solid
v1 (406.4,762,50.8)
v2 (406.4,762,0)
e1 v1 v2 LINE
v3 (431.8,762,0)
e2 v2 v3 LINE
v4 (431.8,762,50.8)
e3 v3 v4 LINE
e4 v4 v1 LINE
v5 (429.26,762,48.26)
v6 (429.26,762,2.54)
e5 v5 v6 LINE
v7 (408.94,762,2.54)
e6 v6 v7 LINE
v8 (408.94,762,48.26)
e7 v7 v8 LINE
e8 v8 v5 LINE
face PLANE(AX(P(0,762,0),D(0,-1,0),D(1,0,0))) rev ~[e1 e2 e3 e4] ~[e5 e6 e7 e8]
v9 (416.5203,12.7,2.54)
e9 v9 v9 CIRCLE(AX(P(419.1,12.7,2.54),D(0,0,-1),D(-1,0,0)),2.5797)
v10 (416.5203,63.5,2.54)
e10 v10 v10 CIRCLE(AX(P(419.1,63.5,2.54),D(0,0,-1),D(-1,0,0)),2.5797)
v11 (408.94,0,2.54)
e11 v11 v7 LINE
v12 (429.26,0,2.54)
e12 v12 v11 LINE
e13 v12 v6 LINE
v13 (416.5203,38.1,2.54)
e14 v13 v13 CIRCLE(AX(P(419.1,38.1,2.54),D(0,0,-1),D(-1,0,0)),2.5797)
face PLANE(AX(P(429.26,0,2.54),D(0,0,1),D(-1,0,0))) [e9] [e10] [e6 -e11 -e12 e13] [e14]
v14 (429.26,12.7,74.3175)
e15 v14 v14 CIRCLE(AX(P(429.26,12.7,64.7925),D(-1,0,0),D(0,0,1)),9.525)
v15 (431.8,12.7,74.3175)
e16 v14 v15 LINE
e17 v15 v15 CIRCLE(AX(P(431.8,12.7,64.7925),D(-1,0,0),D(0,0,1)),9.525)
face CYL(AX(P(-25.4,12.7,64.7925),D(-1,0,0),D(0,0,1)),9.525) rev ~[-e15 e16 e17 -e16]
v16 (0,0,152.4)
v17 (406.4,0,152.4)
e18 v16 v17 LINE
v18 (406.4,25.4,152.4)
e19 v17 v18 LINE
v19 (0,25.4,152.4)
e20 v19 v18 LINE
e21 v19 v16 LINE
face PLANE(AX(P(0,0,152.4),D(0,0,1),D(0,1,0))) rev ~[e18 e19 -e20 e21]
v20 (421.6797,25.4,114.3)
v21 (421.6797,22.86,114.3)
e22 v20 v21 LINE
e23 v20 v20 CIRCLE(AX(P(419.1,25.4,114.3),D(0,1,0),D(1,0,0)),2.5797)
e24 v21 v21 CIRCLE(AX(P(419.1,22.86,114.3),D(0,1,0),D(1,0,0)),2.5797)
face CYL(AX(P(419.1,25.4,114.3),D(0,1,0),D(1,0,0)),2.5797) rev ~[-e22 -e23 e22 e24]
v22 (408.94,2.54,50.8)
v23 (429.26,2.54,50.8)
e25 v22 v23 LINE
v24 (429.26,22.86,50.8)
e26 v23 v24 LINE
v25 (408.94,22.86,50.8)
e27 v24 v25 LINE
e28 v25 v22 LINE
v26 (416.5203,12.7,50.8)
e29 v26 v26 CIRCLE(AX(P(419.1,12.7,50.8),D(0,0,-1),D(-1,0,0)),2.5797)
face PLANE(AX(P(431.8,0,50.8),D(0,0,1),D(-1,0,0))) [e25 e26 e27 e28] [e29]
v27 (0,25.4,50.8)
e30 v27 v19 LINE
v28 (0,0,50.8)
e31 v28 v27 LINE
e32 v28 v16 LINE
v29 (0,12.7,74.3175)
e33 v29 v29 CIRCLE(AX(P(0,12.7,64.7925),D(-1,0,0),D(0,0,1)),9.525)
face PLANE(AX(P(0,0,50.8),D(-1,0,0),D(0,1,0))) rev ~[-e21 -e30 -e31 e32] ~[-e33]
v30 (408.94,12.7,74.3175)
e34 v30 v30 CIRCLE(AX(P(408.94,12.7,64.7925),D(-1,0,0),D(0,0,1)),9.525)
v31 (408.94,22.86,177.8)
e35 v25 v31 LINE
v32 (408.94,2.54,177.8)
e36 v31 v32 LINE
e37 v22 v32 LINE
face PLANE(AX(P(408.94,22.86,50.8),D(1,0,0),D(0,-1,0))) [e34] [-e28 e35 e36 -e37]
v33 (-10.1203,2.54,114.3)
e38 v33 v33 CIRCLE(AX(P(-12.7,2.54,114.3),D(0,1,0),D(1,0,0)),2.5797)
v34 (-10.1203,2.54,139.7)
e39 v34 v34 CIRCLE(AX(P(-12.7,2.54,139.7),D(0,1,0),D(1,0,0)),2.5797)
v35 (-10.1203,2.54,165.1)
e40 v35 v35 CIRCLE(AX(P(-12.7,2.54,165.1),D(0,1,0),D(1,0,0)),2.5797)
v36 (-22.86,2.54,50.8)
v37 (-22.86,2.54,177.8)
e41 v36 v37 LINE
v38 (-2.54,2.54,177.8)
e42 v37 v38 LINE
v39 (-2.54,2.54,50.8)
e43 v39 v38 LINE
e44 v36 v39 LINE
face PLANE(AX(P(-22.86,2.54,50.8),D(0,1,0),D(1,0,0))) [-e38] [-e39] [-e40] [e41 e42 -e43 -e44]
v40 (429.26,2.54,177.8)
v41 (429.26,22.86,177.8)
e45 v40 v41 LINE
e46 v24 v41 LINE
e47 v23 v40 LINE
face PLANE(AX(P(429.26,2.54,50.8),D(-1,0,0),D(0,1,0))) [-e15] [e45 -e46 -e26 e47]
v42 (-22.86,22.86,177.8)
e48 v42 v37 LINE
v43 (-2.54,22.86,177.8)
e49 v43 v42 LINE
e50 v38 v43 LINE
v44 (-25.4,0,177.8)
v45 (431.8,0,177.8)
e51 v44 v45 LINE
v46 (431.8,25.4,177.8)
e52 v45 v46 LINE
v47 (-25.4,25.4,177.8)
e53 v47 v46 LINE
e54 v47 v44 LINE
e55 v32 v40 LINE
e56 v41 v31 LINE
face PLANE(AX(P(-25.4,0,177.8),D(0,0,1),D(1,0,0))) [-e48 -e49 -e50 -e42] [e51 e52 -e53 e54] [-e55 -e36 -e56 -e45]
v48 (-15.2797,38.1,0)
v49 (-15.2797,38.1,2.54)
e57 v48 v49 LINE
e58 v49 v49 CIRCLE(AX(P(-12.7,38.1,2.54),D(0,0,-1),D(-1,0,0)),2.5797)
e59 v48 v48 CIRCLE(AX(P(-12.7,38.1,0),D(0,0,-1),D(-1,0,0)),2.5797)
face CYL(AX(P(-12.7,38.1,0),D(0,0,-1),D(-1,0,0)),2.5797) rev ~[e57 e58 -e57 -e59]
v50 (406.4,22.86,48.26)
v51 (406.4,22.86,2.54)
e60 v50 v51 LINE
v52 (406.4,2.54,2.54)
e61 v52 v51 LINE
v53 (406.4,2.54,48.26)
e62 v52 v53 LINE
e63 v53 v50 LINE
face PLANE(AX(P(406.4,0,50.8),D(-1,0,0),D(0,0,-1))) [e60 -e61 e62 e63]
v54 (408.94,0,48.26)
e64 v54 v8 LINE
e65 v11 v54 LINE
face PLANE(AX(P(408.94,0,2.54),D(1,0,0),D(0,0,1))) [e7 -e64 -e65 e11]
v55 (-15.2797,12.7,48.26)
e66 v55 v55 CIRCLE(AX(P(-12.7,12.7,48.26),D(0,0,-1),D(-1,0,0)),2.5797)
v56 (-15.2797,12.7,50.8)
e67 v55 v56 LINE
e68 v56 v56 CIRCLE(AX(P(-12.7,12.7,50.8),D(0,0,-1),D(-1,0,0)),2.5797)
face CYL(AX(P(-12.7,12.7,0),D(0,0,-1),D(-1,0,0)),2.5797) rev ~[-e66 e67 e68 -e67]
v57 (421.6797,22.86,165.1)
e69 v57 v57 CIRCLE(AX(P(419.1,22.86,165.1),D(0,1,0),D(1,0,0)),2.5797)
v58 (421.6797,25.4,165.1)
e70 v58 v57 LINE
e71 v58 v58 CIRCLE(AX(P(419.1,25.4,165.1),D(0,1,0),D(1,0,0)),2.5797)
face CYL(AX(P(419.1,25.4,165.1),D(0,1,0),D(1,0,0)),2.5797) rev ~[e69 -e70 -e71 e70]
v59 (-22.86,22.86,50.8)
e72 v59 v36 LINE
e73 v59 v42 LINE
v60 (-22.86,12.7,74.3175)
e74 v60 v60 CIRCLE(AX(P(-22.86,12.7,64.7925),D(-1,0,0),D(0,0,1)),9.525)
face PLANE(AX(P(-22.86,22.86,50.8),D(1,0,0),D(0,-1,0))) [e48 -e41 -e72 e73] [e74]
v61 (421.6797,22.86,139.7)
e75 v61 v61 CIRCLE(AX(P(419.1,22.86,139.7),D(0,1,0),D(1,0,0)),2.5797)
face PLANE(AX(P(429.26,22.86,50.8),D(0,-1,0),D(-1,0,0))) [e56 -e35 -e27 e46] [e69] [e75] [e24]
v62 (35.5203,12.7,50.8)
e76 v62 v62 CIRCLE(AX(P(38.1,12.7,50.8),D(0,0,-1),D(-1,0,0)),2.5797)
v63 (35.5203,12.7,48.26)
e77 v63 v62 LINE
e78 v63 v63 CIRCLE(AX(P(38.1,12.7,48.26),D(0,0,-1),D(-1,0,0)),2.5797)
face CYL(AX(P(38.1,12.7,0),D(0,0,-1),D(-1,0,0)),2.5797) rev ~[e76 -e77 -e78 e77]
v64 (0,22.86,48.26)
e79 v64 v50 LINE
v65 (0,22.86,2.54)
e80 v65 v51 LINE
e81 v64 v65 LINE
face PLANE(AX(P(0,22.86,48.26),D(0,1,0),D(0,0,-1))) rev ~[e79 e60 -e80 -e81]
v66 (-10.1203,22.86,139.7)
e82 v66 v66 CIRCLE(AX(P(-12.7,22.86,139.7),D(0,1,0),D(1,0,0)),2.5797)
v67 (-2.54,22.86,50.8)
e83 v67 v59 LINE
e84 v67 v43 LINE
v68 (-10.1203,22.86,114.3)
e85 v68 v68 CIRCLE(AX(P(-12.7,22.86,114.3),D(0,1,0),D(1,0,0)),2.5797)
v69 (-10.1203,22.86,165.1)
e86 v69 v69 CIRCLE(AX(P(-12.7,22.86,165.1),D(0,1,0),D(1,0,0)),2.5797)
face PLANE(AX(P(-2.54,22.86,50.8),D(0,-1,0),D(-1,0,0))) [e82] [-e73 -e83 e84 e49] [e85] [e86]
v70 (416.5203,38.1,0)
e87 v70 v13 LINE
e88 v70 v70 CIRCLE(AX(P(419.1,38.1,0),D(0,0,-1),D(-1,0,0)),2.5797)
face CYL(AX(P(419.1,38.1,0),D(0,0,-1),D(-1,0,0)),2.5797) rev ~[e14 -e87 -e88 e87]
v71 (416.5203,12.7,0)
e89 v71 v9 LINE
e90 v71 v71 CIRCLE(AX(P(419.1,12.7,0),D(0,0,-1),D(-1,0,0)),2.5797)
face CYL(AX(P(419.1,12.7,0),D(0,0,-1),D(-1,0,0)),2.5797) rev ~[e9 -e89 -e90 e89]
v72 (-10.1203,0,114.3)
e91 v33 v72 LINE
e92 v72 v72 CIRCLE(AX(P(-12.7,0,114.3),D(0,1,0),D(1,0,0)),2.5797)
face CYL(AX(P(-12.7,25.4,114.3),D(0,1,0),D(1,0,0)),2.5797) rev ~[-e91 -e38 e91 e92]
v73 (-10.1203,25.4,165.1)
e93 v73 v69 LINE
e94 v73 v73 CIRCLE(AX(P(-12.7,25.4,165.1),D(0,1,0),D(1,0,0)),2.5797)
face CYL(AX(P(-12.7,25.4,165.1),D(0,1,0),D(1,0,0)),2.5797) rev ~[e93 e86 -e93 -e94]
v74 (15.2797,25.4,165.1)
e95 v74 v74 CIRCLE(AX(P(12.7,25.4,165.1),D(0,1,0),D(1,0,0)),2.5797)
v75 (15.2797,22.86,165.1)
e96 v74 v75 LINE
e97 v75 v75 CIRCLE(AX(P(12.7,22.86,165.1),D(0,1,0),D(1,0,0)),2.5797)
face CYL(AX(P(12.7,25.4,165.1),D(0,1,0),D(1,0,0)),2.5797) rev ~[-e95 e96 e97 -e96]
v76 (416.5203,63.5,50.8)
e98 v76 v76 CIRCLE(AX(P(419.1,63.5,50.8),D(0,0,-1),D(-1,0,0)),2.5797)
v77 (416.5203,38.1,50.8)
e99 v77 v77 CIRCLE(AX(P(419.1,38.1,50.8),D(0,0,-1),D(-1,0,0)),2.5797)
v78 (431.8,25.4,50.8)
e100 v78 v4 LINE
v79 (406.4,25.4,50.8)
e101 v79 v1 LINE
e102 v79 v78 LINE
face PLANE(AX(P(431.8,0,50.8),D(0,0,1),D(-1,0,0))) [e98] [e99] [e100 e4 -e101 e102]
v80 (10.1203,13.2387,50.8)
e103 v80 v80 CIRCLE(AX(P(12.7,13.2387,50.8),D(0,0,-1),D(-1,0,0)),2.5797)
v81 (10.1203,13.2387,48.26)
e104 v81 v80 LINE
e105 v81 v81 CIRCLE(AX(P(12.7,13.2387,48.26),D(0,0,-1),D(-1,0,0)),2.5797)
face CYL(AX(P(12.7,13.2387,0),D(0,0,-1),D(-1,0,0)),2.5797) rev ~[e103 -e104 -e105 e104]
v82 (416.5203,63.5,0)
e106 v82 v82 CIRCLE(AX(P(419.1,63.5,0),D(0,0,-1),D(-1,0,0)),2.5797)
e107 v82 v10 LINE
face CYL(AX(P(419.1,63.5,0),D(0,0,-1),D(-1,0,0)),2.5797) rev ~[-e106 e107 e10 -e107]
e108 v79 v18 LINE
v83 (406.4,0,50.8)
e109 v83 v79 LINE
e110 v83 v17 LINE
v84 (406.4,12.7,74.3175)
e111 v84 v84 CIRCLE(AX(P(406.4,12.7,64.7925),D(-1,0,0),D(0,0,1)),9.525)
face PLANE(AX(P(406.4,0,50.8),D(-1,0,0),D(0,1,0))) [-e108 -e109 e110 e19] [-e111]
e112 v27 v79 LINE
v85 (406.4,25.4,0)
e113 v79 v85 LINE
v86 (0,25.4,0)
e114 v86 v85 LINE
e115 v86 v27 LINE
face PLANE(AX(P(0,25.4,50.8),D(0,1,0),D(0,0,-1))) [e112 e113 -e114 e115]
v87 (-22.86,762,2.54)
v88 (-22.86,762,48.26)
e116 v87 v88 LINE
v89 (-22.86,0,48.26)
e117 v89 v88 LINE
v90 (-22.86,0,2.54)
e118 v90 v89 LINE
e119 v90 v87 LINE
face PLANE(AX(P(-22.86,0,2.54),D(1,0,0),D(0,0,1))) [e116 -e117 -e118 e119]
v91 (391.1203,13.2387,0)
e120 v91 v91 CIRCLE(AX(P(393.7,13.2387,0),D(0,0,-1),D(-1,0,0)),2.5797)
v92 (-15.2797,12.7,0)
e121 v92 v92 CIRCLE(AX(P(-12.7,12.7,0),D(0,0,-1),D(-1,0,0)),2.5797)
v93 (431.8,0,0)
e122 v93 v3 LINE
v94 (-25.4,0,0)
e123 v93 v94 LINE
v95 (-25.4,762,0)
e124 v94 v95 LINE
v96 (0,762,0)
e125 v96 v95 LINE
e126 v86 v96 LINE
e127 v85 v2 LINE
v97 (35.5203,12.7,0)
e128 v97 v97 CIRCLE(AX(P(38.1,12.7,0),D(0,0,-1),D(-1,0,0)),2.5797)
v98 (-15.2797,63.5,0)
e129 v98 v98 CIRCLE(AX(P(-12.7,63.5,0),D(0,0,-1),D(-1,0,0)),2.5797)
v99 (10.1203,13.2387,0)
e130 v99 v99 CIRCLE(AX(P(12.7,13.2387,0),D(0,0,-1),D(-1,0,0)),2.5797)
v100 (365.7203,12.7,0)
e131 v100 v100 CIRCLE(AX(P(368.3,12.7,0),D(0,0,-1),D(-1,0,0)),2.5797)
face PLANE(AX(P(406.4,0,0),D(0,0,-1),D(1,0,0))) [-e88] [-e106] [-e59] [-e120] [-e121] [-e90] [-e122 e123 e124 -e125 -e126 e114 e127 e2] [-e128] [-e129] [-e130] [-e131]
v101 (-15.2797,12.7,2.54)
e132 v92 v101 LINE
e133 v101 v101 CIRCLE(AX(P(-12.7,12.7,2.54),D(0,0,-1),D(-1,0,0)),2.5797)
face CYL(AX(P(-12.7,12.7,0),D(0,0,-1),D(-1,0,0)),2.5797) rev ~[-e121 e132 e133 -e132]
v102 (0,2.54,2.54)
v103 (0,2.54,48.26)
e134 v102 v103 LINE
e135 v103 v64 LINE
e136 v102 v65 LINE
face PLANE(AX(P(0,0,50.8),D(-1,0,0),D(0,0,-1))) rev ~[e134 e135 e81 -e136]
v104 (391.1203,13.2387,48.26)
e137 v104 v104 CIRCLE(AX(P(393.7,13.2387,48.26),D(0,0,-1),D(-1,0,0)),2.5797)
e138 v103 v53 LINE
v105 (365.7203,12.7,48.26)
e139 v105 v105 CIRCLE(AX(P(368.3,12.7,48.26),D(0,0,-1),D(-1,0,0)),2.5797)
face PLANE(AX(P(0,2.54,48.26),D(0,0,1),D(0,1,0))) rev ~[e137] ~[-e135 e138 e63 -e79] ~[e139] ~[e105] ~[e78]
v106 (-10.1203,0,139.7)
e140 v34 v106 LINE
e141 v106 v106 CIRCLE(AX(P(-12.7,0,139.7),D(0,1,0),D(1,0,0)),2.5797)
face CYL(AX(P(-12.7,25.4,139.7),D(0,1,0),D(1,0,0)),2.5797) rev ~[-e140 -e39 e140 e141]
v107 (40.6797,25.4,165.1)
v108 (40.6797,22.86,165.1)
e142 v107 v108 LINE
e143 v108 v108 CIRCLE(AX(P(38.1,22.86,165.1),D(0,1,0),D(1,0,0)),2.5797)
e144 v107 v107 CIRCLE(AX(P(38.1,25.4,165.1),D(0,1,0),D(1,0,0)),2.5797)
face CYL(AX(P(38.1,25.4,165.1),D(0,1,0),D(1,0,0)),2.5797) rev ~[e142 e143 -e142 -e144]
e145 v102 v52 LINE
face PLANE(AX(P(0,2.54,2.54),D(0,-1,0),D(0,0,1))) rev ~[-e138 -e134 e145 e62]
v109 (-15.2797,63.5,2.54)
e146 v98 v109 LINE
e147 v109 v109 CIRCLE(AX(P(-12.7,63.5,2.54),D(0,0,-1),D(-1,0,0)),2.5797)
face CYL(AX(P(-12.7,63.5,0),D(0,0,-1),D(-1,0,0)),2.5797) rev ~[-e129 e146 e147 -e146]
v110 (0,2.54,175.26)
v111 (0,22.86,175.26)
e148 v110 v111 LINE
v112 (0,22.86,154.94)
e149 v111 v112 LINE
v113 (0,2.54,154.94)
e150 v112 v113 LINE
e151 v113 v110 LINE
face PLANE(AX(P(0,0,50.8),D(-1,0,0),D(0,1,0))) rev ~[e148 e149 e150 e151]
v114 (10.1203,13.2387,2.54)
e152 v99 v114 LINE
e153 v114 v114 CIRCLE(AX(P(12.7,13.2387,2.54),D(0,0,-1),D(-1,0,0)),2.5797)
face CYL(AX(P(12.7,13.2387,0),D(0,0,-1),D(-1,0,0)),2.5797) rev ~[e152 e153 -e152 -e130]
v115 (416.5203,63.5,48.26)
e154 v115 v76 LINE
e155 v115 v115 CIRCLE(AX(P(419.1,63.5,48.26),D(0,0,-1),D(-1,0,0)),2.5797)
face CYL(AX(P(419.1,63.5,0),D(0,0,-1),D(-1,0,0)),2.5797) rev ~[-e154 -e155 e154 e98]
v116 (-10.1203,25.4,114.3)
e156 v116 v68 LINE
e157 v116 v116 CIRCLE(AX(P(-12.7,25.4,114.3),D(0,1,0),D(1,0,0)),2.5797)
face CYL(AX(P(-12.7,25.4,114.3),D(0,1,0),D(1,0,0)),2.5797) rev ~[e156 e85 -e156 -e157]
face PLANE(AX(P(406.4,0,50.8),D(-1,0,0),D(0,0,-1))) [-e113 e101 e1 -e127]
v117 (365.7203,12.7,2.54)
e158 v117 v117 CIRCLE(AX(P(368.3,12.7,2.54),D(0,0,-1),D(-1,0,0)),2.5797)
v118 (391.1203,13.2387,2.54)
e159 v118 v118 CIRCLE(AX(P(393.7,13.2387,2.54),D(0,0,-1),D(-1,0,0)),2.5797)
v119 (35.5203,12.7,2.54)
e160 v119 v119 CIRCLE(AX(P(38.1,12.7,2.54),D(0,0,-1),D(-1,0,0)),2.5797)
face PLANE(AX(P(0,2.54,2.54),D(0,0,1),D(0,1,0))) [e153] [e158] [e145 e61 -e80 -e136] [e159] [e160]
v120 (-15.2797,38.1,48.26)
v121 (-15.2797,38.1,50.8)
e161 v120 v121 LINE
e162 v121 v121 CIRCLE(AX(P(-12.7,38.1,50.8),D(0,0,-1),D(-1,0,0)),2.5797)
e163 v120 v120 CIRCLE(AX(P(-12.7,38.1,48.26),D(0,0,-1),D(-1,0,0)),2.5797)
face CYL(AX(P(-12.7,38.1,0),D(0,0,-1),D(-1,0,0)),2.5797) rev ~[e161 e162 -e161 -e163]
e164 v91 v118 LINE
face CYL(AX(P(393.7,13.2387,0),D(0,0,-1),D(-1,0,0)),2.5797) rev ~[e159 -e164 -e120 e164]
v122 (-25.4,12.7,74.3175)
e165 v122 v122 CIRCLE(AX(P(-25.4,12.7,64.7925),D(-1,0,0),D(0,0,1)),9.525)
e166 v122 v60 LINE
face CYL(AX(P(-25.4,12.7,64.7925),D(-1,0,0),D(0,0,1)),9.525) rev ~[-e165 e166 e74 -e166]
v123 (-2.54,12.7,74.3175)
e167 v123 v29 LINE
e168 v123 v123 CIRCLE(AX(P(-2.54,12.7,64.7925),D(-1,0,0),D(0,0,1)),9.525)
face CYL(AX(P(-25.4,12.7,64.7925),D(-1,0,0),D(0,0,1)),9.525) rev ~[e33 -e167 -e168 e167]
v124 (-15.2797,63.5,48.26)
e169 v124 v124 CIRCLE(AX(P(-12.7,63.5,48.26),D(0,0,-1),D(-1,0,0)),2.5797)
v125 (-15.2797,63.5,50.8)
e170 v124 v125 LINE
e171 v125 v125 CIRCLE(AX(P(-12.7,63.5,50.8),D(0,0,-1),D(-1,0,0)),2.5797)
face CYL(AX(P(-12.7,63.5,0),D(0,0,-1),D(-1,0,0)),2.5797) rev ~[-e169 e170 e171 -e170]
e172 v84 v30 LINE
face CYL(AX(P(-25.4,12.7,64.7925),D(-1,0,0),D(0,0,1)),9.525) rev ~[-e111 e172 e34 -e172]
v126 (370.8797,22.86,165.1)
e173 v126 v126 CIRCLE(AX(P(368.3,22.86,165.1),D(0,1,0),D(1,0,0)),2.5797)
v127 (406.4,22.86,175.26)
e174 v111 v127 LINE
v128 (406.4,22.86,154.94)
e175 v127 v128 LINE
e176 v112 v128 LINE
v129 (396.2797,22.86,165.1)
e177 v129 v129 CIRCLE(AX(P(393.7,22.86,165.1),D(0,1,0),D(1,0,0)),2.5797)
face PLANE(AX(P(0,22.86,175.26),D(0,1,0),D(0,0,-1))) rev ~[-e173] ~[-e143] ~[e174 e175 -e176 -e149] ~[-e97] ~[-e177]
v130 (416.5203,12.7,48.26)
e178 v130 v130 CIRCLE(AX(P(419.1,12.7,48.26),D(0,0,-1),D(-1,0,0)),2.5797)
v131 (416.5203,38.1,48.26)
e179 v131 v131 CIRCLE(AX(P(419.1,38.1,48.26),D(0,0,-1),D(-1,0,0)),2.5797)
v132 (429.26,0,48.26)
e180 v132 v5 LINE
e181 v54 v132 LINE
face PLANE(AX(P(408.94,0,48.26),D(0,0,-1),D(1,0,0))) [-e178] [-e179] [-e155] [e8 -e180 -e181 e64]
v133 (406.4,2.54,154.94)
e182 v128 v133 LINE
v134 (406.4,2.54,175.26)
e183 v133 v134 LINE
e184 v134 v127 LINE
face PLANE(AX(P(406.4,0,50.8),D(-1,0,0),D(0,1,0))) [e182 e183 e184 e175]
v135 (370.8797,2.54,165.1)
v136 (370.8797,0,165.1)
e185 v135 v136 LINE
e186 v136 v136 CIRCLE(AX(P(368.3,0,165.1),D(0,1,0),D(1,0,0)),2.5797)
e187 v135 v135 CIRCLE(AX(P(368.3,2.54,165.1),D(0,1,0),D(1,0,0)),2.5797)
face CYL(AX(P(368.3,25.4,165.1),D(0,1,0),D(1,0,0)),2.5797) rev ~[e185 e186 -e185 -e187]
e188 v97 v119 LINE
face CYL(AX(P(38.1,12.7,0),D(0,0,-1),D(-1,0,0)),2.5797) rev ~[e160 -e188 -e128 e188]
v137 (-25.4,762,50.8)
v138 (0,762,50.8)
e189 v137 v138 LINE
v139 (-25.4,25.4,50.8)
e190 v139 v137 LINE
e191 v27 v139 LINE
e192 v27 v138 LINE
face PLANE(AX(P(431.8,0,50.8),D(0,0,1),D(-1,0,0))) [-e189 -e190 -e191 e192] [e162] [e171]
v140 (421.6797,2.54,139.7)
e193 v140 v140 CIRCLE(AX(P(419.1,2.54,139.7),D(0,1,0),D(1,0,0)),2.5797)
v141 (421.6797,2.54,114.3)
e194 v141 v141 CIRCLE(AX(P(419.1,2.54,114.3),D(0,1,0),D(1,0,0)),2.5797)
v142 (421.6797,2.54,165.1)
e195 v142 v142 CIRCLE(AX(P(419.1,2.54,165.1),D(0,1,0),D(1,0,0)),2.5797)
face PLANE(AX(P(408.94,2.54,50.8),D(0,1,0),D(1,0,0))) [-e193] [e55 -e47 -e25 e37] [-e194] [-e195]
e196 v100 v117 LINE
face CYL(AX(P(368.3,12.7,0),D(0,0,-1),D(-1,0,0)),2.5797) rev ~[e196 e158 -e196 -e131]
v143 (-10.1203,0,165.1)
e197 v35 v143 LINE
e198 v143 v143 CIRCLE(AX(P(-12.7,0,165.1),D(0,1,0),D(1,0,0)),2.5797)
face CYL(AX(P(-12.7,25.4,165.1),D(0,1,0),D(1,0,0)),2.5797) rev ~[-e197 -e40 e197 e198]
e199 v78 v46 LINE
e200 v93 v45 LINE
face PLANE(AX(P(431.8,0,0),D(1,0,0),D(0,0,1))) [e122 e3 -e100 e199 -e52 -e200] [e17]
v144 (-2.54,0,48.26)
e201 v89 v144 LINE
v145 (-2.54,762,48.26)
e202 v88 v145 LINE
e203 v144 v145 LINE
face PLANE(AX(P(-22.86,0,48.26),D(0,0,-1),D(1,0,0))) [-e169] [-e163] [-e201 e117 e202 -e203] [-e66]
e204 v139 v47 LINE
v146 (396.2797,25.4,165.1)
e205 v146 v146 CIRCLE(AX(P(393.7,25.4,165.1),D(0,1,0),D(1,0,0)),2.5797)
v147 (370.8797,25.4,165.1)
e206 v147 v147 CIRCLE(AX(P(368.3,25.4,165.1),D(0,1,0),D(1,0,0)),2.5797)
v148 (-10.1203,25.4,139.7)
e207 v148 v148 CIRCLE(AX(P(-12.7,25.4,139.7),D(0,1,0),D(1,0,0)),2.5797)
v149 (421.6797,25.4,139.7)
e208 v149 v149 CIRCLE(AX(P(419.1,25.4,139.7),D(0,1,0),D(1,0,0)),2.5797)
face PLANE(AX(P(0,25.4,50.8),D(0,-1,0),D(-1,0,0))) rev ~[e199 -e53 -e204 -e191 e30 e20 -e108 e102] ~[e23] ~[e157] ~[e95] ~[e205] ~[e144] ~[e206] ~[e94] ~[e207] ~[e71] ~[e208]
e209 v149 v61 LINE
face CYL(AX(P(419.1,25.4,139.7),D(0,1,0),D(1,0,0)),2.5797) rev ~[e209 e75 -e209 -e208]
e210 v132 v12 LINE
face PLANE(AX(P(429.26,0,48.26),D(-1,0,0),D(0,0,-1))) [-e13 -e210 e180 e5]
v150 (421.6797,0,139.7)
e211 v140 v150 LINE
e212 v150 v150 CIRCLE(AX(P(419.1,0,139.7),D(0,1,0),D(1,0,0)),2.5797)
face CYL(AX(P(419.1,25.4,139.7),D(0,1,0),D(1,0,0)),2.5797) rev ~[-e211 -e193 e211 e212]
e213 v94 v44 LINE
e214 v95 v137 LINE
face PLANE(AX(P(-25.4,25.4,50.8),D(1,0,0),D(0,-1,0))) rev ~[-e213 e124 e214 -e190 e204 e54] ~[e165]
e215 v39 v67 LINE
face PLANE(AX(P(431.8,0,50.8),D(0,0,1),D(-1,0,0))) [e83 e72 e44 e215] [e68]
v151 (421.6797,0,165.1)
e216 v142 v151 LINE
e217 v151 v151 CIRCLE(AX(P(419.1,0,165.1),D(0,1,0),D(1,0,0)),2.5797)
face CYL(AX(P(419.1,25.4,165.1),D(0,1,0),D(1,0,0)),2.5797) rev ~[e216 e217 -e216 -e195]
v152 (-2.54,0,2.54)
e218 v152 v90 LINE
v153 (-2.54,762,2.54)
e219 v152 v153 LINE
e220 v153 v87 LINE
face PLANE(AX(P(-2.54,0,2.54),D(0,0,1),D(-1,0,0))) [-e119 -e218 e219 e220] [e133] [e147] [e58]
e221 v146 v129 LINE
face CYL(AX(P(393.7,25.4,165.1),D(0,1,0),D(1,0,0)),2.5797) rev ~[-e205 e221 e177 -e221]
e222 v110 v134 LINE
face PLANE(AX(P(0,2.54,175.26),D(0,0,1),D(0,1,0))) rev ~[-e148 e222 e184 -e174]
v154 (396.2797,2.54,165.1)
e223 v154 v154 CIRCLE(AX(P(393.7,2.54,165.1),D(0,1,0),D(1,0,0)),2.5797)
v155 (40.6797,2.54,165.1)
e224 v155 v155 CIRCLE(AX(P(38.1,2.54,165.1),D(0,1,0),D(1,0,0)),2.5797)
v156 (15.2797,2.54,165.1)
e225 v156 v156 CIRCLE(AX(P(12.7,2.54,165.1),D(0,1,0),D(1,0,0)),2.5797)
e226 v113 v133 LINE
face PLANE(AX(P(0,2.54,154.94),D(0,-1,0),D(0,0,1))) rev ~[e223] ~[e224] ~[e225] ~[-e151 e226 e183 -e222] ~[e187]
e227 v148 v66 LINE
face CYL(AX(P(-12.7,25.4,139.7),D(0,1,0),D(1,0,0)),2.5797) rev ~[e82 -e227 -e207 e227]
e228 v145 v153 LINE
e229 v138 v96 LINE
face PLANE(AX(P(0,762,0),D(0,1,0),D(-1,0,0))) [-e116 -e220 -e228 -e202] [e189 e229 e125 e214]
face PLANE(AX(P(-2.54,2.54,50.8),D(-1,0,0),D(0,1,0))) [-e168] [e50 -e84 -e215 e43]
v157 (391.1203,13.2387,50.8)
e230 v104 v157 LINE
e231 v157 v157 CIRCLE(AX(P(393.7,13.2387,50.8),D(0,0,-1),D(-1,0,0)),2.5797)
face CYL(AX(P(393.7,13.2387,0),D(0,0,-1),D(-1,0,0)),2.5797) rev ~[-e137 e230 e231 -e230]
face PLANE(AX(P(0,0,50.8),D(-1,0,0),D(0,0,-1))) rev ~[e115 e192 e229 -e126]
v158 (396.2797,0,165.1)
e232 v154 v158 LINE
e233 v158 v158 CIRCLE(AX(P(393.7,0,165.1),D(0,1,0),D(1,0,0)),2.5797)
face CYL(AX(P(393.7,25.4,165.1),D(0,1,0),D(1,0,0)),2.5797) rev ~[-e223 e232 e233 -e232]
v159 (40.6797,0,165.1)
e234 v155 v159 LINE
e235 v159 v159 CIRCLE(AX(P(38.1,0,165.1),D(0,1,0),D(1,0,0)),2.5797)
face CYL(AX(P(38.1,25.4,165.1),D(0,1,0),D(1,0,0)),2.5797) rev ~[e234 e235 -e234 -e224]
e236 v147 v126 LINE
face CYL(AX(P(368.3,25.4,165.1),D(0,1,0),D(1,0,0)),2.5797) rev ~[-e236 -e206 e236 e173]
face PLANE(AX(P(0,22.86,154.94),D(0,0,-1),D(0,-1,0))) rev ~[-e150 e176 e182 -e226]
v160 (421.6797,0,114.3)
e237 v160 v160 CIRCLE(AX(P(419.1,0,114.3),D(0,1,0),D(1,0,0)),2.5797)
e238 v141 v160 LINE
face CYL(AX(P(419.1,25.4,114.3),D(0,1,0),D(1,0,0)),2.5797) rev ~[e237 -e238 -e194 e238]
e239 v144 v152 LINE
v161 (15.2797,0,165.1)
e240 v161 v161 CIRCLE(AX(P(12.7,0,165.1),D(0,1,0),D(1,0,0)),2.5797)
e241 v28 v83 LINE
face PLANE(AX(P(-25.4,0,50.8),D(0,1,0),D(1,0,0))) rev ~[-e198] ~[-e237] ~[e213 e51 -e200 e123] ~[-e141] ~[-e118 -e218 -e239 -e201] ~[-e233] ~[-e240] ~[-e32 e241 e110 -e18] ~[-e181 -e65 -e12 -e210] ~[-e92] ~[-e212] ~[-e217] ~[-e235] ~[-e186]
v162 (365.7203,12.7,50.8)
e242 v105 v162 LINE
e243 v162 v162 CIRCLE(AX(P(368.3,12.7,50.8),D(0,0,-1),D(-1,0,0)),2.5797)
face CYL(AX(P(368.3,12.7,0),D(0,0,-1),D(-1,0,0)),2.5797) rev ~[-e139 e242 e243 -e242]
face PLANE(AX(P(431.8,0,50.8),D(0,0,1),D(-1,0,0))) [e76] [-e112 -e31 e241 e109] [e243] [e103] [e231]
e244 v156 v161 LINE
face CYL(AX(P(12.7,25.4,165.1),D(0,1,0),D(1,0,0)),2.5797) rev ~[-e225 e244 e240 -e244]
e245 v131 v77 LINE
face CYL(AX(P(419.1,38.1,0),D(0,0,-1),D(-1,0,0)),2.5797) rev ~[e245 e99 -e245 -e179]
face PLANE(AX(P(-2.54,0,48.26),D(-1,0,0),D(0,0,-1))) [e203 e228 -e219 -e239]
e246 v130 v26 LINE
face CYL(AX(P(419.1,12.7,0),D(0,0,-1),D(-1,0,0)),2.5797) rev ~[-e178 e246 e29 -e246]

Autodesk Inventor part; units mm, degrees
ref_plane "YZ Plane" through (0, 0, 0) normal (1, 0, 0) x (0, 1, 0)
ref_plane "XZ Plane" through (0, 0, 0) normal (0, 1, 0) x (-1, 0, 0)
ref_plane "XY Plane" through (0, 0, 0) normal (0, 0, 1) x (1, 0, 0)
sketch "Sketch1" plane through (0, 0, 0) normal (0, 1, 0) x (-1, 0, 0)
  line L0 (0, 0) -> (25.4, 0)
  line L1 (25.4, 0) -> (25.4, 50.8)
  line L2 (25.4, 50.8) -> (0, 50.8)
  line L3 (0, 50.8) -> (0, 0)
  line L4 (22.86, 48.26) -> (2.54, 48.26)
  line L5 (2.54, 48.26) -> (2.54, 2.54)
  line L6 (2.54, 2.54) -> (22.86, 2.54)
  line L7 (22.86, 2.54) -> (22.86, 48.26)
  dimension "d0" = 50.8
  dimension "d1" = 25.4
  dimension "d2" = 2.54
  dimension "d3" = 2.54
  dimension "d4" = 2.54
  dimension "d5" = 2.54
extrude "Extrusion1" add sketch "Sketch1" along normal blind 762
sketch "Sketch2" plane through (0, 0, 50.8) normal (1, 0, 0) x (0, 0, -1)
  line L0 (0, 0) -> (50.8, 0) projected
  line L1 (0, 0) -> (0, 762) projected
  line L2 (50.8, 0) -> (0, 0)
  line L3 (0, 0) -> (0, 25.4)
  line L4 (0, 25.4) -> (50.8, 25.4)
  line L5 (50.8, 25.4) -> (50.8, 0)
  line L6 (48.26, 0) -> (48.26, 762) projected
  line L7 (2.54, 0) -> (2.54, 762) projected
  line L8 (48.26, 2.54) -> (2.54, 2.54)
  line L9 (2.54, 2.54) -> (2.54, 22.86)
  line L10 (2.54, 22.86) -> (48.26, 22.86)
  line L11 (48.26, 22.86) -> (48.26, 2.54)
  dimension "d8" = 25.4
  dimension "d9" = 2.54
  dimension "d10" = 2.54
extrude "Extrusion2" add sketch "Sketch2" along normal blind 406.4 contours L1 L4 L7 L0 | L7 L8 L6 L0 | L6 L4 L5 L0 | L4 L6 L10 L7
sketch "Sketch3" plane through (-25.4, 762, 50.8) normal (0, 0, 1) x (1, 0, 0)
  point P0 (25.4, -762)
sketch "Sketch4" plane through (0, 0, 0) normal (0, -1, 0) x (1, 0, 0)
  line L0 (0, 0) -> (406.4, 0) projected
  line L1 (406.4, 0) -> (431.8, 0)
  line L2 (431.8, 0) -> (431.8, 50.8)
  line L3 (431.8, 50.8) -> (406.4, 50.8)
  line L4 (406.4, 50.8) -> (406.4, 0)
  line L5 (408.94, 48.26) -> (429.26, 48.26)
  line L6 (429.26, 48.26) -> (429.26, 2.54)
  line L7 (429.26, 2.54) -> (408.94, 2.54)
  line L8 (408.94, 2.54) -> (408.94, 48.26)
  dimension "d13" = 25.4
  dimension "d14" = 2.54
  dimension "d15" = 2.54
  dimension "d16" = 2.54
  dimension "d17" = 2.54
extrude "Extrusion3" add sketch "Sketch4" against normal blind 762
sketch "Sketch6" plane through (-25.4, 0, 0) normal (0, 0, -1) x (-1, 0, 0)
  circle A0 centre (-12.7, 12.7) radius 2.5797
  line L0 (0, 0) -> (0, 762) projected
  line L1 (-457.2, 0) -> (0, 0) projected
  circle A1 centre (-12.7, 38.1) radius 2.5797
  circle A2 centre (-12.7, 63.5) radius 2.5797
  circle A3 centre (-38.1, 13.2387) radius 2.5797
  circle A4 centre (-63.5, 12.7) radius 2.5797
  circle A5 centre (-12.7, 12.7) radius 2.5797
  line L2 (0, 0) -> (0, 762)
  line L3 (-457.2, 0) -> (0, 0)
  circle A6 centre (-12.7, 38.1) radius 2.5797
  circle A7 centre (-12.7, 63.5) radius 2.5797
  circle A8 centre (-38.1, 13.2387) radius 2.5797
  circle A9 centre (-63.5, 12.7) radius 2.5797
  line L4 (-25.4, 2.54) -> (-431.8, 2.54) projected
  line L5 (-228.6, 2.54) -> (-228.6, 762)
  circle A10 centre (-444.5, 12.7) radius 2.5797
  circle A11 centre (-444.5, 38.1) radius 2.5797
  circle A12 centre (-419.1, 13.2387) radius 2.5797
  circle A13 centre (-393.7, 12.7) radius 2.5797
  circle A14 centre (-444.5, 63.5) radius 2.5797
  point P0 (-25.4, 0)
  point P1 (-25.4, 0)
  dimension "d22" = 12.7
  dimension "d23" = 12.7
  dimension "d24" = 5.1594
  dimension "d25" = 25.4
  dimension "d26" = 5.1594
  dimension "d27" = 25.4
  dimension "d28" = 5.1594
  dimension "d29" = 25.4
  dimension "d30" = 5.1594
  dimension "d31" = 12.7
  dimension "d32" = 5.1594
  dimension "d33" = 25.4
  dimension "d36" = 12.7
  dimension "d37" = 12.7
  dimension "d38" = 5.1594
  dimension "d39" = 25.4
  dimension "d40" = 5.1594
  dimension "d41" = 25.4
  dimension "d42" = 5.1594
  dimension "d43" = 25.4
  dimension "d44" = 5.1594
  dimension "d45" = 12.7
  dimension "d46" = 5.1594
  dimension "d47" = 25.4
extrude "Extrusion6" cut sketch "Sketch6" against normal blind 736.6
sketch "Sketch8" plane through (-25.4, 0, 50.8) normal (0, 0, 1) x (1, 0, 0)
  line L0 (25.4, 25.4) -> (25.4, 762) projected
  line L1 (0, 0) -> (25.4, 0)
  line L2 (25.4, 0) -> (25.4, 25.4)
  line L3 (25.4, 25.4) -> (0, 25.4)
  line L4 (0, 25.4) -> (0, 0)
  line L5 (2.54, 2.54) -> (22.86, 2.54)
  line L6 (22.86, 2.54) -> (22.86, 22.86)
  line L7 (22.86, 22.86) -> (2.54, 22.86)
  line L8 (2.54, 22.86) -> (2.54, 2.54)
  line L9 (0, 0) -> (457.2, 0) projected
  point P0 (25.4, 0)
  dimension "d50" = 25.4
  dimension "d51" = 2.54
  dimension "d52" = 0
  dimension "d53" = 2.54
  dimension "d54" = 2.54
  dimension "d55" = 2.54
extrude "Extrusion7" add sketch "Sketch8" along normal blind 127
sketch "Sketch10" plane through (406.4, 762, 50.8) normal (0, 0, 1) x (1, 0, 0)
  line L0 (0, -736.6) -> (0, 0) projected
  line L1 (0, -736.6) -> (0, -762)
  point P0 (-406.4, -762)
sketch "Sketch11" plane through (406.4, 762, 50.8) normal (0, 0, 1) x (1, 0, 0)
  line L0 (-406.4, -762) -> (-406.4, -736.6) projected
  line L1 (-406.4, -762) -> (-406.4, -736.6)
sketch "Sketch12" plane through (406.4, 762, 50.8) normal (0, 0, 1) x (1, 0, 0)
  line L0 (0, -736.6) -> (0, 0) projected
  line L1 (25.4, -762) -> (25.4, 0) projected
  line L2 (0, -736.6) -> (25.4, -736.6)
  line L3 (25.4, -736.6) -> (25.4, -762)
  line L4 (25.4, -762) -> (0, -762)
  line L5 (0, -762) -> (0, -736.6)
  line L6 (22.86, -762) -> (22.86, 0) projected
  line L7 (22.86, -739.14) -> (2.54, -739.14)
  line L8 (2.54, -739.14) -> (2.54, -759.46)
  line L9 (2.54, -759.46) -> (22.86, -759.46)
  line L10 (22.86, -759.46) -> (22.86, -739.14)
  point P0 (-406.4, -762)
  dimension "d62" = 2.54
  dimension "d63" = 2.54
  dimension "d64" = 2.54
extrude "Extrusion9" add sketch "Sketch12" along normal blind 127 contours L4 L6 L2 L1 | L4 L5 L2 L6 L7 L8 L9
sketch "Sketch9" plane through (-25.4, 0, 0) normal (-1, 0, 0) x (0, 0, 1)
  circle A0 centre (64.7925, 12.7) radius 9.525
  line L0 (0, 0) -> (177.8, 0) projected
  dimension "d58" = 19.05
  dimension "d59" = 12.7
extrude "Extrusion8" cut sketch "Sketch9" against normal blind 508
sketch "Sketch13" plane through (0, 0, 50.8) normal (1, 0, 0) x (0, 0, -1)
  line L0 (-127, 0) -> (-101.6, 0)
  line L1 (-101.6, 0) -> (-101.6, 25.4)
  line L2 (-101.6, 25.4) -> (-127, 25.4)
  line L3 (-127, 25.4) -> (-127, 0)
  line L4 (0, 0) -> (-127, 0) projected
  line L5 (-127, 0) -> (-127, 25.4) projected
  line L6 (0, 2.54) -> (-127, 2.54) projected
  line L7 (-104.14, 2.54) -> (-124.46, 2.54)
  line L8 (-124.46, 2.54) -> (-124.46, 22.86)
  line L9 (-124.46, 22.86) -> (-104.14, 22.86)
  line L10 (-104.14, 22.86) -> (-104.14, 2.54)
  point P0 (50.8, 0)
  dimension "d67" = 25.4
  dimension "d68" = 25.4
  dimension "d69" = 0
  dimension "d70" = 0
  dimension "d71" = 2.54
  dimension "d72" = 2.54
  dimension "d73" = 2.54
extrude "Extrusion10" add sketch "Sketch13" along normal blind 406.4 contours L3 L6 L1 L0 | L3 L2 L1 L6 L10 L9 L8
sketch "Sketch14" plane through (-25.4, 25.4, 50.8) normal (0, 1, 0) x (1, 0, 0)
  line L0 (457.2, -127) -> (0, -127) projected
  line L1 (228.6, -127) -> (228.6, 50.8)
  line L2 (25.4, 50.8) -> (431.8, 50.8) projected
  circle A0 centre (444.5, -114.3) radius 2.5797
  circle A1 centre (419.1, -114.3) radius 2.5797
  circle A2 centre (393.7, -114.3) radius 2.5797
  circle A3 centre (444.5, -88.9) radius 2.5797
  circle A4 centre (444.5, -63.5) radius 2.5797
  line L3 (457.2, 0) -> (457.2, -127) projected
  circle A5 centre (12.7, -114.3) radius 2.5797
  circle A6 centre (38.1, -114.3) radius 2.5797
  circle A7 centre (63.5, -114.3) radius 2.5797
  circle A8 centre (12.7, -88.9) radius 2.5797
  circle A9 centre (12.7, -63.5) radius 2.5797
  dimension "d76" = 90
  dimension "d77" = 228.6
  dimension "d78" = 12.7
  dimension "d79" = 12.7
  dimension "d80" = 12.7
  dimension "d81" = 12.7
  dimension "d82" = 12.7
  dimension "d83" = 12.7
  dimension "d84" = 5.1594
  dimension "d85" = 5.1594
  dimension "d86" = 5.1594
  dimension "d87" = 5.1594
  dimension "d88" = 5.1594
  dimension "d89" = 25.4
  dimension "d90" = 25.4
  dimension "d91" = 25.4
  dimension "d92" = 25.4
extrude "Extrusion11" cut sketch "Sketch14" against normal blind 406.4
properties part number "battery shelf frame"
